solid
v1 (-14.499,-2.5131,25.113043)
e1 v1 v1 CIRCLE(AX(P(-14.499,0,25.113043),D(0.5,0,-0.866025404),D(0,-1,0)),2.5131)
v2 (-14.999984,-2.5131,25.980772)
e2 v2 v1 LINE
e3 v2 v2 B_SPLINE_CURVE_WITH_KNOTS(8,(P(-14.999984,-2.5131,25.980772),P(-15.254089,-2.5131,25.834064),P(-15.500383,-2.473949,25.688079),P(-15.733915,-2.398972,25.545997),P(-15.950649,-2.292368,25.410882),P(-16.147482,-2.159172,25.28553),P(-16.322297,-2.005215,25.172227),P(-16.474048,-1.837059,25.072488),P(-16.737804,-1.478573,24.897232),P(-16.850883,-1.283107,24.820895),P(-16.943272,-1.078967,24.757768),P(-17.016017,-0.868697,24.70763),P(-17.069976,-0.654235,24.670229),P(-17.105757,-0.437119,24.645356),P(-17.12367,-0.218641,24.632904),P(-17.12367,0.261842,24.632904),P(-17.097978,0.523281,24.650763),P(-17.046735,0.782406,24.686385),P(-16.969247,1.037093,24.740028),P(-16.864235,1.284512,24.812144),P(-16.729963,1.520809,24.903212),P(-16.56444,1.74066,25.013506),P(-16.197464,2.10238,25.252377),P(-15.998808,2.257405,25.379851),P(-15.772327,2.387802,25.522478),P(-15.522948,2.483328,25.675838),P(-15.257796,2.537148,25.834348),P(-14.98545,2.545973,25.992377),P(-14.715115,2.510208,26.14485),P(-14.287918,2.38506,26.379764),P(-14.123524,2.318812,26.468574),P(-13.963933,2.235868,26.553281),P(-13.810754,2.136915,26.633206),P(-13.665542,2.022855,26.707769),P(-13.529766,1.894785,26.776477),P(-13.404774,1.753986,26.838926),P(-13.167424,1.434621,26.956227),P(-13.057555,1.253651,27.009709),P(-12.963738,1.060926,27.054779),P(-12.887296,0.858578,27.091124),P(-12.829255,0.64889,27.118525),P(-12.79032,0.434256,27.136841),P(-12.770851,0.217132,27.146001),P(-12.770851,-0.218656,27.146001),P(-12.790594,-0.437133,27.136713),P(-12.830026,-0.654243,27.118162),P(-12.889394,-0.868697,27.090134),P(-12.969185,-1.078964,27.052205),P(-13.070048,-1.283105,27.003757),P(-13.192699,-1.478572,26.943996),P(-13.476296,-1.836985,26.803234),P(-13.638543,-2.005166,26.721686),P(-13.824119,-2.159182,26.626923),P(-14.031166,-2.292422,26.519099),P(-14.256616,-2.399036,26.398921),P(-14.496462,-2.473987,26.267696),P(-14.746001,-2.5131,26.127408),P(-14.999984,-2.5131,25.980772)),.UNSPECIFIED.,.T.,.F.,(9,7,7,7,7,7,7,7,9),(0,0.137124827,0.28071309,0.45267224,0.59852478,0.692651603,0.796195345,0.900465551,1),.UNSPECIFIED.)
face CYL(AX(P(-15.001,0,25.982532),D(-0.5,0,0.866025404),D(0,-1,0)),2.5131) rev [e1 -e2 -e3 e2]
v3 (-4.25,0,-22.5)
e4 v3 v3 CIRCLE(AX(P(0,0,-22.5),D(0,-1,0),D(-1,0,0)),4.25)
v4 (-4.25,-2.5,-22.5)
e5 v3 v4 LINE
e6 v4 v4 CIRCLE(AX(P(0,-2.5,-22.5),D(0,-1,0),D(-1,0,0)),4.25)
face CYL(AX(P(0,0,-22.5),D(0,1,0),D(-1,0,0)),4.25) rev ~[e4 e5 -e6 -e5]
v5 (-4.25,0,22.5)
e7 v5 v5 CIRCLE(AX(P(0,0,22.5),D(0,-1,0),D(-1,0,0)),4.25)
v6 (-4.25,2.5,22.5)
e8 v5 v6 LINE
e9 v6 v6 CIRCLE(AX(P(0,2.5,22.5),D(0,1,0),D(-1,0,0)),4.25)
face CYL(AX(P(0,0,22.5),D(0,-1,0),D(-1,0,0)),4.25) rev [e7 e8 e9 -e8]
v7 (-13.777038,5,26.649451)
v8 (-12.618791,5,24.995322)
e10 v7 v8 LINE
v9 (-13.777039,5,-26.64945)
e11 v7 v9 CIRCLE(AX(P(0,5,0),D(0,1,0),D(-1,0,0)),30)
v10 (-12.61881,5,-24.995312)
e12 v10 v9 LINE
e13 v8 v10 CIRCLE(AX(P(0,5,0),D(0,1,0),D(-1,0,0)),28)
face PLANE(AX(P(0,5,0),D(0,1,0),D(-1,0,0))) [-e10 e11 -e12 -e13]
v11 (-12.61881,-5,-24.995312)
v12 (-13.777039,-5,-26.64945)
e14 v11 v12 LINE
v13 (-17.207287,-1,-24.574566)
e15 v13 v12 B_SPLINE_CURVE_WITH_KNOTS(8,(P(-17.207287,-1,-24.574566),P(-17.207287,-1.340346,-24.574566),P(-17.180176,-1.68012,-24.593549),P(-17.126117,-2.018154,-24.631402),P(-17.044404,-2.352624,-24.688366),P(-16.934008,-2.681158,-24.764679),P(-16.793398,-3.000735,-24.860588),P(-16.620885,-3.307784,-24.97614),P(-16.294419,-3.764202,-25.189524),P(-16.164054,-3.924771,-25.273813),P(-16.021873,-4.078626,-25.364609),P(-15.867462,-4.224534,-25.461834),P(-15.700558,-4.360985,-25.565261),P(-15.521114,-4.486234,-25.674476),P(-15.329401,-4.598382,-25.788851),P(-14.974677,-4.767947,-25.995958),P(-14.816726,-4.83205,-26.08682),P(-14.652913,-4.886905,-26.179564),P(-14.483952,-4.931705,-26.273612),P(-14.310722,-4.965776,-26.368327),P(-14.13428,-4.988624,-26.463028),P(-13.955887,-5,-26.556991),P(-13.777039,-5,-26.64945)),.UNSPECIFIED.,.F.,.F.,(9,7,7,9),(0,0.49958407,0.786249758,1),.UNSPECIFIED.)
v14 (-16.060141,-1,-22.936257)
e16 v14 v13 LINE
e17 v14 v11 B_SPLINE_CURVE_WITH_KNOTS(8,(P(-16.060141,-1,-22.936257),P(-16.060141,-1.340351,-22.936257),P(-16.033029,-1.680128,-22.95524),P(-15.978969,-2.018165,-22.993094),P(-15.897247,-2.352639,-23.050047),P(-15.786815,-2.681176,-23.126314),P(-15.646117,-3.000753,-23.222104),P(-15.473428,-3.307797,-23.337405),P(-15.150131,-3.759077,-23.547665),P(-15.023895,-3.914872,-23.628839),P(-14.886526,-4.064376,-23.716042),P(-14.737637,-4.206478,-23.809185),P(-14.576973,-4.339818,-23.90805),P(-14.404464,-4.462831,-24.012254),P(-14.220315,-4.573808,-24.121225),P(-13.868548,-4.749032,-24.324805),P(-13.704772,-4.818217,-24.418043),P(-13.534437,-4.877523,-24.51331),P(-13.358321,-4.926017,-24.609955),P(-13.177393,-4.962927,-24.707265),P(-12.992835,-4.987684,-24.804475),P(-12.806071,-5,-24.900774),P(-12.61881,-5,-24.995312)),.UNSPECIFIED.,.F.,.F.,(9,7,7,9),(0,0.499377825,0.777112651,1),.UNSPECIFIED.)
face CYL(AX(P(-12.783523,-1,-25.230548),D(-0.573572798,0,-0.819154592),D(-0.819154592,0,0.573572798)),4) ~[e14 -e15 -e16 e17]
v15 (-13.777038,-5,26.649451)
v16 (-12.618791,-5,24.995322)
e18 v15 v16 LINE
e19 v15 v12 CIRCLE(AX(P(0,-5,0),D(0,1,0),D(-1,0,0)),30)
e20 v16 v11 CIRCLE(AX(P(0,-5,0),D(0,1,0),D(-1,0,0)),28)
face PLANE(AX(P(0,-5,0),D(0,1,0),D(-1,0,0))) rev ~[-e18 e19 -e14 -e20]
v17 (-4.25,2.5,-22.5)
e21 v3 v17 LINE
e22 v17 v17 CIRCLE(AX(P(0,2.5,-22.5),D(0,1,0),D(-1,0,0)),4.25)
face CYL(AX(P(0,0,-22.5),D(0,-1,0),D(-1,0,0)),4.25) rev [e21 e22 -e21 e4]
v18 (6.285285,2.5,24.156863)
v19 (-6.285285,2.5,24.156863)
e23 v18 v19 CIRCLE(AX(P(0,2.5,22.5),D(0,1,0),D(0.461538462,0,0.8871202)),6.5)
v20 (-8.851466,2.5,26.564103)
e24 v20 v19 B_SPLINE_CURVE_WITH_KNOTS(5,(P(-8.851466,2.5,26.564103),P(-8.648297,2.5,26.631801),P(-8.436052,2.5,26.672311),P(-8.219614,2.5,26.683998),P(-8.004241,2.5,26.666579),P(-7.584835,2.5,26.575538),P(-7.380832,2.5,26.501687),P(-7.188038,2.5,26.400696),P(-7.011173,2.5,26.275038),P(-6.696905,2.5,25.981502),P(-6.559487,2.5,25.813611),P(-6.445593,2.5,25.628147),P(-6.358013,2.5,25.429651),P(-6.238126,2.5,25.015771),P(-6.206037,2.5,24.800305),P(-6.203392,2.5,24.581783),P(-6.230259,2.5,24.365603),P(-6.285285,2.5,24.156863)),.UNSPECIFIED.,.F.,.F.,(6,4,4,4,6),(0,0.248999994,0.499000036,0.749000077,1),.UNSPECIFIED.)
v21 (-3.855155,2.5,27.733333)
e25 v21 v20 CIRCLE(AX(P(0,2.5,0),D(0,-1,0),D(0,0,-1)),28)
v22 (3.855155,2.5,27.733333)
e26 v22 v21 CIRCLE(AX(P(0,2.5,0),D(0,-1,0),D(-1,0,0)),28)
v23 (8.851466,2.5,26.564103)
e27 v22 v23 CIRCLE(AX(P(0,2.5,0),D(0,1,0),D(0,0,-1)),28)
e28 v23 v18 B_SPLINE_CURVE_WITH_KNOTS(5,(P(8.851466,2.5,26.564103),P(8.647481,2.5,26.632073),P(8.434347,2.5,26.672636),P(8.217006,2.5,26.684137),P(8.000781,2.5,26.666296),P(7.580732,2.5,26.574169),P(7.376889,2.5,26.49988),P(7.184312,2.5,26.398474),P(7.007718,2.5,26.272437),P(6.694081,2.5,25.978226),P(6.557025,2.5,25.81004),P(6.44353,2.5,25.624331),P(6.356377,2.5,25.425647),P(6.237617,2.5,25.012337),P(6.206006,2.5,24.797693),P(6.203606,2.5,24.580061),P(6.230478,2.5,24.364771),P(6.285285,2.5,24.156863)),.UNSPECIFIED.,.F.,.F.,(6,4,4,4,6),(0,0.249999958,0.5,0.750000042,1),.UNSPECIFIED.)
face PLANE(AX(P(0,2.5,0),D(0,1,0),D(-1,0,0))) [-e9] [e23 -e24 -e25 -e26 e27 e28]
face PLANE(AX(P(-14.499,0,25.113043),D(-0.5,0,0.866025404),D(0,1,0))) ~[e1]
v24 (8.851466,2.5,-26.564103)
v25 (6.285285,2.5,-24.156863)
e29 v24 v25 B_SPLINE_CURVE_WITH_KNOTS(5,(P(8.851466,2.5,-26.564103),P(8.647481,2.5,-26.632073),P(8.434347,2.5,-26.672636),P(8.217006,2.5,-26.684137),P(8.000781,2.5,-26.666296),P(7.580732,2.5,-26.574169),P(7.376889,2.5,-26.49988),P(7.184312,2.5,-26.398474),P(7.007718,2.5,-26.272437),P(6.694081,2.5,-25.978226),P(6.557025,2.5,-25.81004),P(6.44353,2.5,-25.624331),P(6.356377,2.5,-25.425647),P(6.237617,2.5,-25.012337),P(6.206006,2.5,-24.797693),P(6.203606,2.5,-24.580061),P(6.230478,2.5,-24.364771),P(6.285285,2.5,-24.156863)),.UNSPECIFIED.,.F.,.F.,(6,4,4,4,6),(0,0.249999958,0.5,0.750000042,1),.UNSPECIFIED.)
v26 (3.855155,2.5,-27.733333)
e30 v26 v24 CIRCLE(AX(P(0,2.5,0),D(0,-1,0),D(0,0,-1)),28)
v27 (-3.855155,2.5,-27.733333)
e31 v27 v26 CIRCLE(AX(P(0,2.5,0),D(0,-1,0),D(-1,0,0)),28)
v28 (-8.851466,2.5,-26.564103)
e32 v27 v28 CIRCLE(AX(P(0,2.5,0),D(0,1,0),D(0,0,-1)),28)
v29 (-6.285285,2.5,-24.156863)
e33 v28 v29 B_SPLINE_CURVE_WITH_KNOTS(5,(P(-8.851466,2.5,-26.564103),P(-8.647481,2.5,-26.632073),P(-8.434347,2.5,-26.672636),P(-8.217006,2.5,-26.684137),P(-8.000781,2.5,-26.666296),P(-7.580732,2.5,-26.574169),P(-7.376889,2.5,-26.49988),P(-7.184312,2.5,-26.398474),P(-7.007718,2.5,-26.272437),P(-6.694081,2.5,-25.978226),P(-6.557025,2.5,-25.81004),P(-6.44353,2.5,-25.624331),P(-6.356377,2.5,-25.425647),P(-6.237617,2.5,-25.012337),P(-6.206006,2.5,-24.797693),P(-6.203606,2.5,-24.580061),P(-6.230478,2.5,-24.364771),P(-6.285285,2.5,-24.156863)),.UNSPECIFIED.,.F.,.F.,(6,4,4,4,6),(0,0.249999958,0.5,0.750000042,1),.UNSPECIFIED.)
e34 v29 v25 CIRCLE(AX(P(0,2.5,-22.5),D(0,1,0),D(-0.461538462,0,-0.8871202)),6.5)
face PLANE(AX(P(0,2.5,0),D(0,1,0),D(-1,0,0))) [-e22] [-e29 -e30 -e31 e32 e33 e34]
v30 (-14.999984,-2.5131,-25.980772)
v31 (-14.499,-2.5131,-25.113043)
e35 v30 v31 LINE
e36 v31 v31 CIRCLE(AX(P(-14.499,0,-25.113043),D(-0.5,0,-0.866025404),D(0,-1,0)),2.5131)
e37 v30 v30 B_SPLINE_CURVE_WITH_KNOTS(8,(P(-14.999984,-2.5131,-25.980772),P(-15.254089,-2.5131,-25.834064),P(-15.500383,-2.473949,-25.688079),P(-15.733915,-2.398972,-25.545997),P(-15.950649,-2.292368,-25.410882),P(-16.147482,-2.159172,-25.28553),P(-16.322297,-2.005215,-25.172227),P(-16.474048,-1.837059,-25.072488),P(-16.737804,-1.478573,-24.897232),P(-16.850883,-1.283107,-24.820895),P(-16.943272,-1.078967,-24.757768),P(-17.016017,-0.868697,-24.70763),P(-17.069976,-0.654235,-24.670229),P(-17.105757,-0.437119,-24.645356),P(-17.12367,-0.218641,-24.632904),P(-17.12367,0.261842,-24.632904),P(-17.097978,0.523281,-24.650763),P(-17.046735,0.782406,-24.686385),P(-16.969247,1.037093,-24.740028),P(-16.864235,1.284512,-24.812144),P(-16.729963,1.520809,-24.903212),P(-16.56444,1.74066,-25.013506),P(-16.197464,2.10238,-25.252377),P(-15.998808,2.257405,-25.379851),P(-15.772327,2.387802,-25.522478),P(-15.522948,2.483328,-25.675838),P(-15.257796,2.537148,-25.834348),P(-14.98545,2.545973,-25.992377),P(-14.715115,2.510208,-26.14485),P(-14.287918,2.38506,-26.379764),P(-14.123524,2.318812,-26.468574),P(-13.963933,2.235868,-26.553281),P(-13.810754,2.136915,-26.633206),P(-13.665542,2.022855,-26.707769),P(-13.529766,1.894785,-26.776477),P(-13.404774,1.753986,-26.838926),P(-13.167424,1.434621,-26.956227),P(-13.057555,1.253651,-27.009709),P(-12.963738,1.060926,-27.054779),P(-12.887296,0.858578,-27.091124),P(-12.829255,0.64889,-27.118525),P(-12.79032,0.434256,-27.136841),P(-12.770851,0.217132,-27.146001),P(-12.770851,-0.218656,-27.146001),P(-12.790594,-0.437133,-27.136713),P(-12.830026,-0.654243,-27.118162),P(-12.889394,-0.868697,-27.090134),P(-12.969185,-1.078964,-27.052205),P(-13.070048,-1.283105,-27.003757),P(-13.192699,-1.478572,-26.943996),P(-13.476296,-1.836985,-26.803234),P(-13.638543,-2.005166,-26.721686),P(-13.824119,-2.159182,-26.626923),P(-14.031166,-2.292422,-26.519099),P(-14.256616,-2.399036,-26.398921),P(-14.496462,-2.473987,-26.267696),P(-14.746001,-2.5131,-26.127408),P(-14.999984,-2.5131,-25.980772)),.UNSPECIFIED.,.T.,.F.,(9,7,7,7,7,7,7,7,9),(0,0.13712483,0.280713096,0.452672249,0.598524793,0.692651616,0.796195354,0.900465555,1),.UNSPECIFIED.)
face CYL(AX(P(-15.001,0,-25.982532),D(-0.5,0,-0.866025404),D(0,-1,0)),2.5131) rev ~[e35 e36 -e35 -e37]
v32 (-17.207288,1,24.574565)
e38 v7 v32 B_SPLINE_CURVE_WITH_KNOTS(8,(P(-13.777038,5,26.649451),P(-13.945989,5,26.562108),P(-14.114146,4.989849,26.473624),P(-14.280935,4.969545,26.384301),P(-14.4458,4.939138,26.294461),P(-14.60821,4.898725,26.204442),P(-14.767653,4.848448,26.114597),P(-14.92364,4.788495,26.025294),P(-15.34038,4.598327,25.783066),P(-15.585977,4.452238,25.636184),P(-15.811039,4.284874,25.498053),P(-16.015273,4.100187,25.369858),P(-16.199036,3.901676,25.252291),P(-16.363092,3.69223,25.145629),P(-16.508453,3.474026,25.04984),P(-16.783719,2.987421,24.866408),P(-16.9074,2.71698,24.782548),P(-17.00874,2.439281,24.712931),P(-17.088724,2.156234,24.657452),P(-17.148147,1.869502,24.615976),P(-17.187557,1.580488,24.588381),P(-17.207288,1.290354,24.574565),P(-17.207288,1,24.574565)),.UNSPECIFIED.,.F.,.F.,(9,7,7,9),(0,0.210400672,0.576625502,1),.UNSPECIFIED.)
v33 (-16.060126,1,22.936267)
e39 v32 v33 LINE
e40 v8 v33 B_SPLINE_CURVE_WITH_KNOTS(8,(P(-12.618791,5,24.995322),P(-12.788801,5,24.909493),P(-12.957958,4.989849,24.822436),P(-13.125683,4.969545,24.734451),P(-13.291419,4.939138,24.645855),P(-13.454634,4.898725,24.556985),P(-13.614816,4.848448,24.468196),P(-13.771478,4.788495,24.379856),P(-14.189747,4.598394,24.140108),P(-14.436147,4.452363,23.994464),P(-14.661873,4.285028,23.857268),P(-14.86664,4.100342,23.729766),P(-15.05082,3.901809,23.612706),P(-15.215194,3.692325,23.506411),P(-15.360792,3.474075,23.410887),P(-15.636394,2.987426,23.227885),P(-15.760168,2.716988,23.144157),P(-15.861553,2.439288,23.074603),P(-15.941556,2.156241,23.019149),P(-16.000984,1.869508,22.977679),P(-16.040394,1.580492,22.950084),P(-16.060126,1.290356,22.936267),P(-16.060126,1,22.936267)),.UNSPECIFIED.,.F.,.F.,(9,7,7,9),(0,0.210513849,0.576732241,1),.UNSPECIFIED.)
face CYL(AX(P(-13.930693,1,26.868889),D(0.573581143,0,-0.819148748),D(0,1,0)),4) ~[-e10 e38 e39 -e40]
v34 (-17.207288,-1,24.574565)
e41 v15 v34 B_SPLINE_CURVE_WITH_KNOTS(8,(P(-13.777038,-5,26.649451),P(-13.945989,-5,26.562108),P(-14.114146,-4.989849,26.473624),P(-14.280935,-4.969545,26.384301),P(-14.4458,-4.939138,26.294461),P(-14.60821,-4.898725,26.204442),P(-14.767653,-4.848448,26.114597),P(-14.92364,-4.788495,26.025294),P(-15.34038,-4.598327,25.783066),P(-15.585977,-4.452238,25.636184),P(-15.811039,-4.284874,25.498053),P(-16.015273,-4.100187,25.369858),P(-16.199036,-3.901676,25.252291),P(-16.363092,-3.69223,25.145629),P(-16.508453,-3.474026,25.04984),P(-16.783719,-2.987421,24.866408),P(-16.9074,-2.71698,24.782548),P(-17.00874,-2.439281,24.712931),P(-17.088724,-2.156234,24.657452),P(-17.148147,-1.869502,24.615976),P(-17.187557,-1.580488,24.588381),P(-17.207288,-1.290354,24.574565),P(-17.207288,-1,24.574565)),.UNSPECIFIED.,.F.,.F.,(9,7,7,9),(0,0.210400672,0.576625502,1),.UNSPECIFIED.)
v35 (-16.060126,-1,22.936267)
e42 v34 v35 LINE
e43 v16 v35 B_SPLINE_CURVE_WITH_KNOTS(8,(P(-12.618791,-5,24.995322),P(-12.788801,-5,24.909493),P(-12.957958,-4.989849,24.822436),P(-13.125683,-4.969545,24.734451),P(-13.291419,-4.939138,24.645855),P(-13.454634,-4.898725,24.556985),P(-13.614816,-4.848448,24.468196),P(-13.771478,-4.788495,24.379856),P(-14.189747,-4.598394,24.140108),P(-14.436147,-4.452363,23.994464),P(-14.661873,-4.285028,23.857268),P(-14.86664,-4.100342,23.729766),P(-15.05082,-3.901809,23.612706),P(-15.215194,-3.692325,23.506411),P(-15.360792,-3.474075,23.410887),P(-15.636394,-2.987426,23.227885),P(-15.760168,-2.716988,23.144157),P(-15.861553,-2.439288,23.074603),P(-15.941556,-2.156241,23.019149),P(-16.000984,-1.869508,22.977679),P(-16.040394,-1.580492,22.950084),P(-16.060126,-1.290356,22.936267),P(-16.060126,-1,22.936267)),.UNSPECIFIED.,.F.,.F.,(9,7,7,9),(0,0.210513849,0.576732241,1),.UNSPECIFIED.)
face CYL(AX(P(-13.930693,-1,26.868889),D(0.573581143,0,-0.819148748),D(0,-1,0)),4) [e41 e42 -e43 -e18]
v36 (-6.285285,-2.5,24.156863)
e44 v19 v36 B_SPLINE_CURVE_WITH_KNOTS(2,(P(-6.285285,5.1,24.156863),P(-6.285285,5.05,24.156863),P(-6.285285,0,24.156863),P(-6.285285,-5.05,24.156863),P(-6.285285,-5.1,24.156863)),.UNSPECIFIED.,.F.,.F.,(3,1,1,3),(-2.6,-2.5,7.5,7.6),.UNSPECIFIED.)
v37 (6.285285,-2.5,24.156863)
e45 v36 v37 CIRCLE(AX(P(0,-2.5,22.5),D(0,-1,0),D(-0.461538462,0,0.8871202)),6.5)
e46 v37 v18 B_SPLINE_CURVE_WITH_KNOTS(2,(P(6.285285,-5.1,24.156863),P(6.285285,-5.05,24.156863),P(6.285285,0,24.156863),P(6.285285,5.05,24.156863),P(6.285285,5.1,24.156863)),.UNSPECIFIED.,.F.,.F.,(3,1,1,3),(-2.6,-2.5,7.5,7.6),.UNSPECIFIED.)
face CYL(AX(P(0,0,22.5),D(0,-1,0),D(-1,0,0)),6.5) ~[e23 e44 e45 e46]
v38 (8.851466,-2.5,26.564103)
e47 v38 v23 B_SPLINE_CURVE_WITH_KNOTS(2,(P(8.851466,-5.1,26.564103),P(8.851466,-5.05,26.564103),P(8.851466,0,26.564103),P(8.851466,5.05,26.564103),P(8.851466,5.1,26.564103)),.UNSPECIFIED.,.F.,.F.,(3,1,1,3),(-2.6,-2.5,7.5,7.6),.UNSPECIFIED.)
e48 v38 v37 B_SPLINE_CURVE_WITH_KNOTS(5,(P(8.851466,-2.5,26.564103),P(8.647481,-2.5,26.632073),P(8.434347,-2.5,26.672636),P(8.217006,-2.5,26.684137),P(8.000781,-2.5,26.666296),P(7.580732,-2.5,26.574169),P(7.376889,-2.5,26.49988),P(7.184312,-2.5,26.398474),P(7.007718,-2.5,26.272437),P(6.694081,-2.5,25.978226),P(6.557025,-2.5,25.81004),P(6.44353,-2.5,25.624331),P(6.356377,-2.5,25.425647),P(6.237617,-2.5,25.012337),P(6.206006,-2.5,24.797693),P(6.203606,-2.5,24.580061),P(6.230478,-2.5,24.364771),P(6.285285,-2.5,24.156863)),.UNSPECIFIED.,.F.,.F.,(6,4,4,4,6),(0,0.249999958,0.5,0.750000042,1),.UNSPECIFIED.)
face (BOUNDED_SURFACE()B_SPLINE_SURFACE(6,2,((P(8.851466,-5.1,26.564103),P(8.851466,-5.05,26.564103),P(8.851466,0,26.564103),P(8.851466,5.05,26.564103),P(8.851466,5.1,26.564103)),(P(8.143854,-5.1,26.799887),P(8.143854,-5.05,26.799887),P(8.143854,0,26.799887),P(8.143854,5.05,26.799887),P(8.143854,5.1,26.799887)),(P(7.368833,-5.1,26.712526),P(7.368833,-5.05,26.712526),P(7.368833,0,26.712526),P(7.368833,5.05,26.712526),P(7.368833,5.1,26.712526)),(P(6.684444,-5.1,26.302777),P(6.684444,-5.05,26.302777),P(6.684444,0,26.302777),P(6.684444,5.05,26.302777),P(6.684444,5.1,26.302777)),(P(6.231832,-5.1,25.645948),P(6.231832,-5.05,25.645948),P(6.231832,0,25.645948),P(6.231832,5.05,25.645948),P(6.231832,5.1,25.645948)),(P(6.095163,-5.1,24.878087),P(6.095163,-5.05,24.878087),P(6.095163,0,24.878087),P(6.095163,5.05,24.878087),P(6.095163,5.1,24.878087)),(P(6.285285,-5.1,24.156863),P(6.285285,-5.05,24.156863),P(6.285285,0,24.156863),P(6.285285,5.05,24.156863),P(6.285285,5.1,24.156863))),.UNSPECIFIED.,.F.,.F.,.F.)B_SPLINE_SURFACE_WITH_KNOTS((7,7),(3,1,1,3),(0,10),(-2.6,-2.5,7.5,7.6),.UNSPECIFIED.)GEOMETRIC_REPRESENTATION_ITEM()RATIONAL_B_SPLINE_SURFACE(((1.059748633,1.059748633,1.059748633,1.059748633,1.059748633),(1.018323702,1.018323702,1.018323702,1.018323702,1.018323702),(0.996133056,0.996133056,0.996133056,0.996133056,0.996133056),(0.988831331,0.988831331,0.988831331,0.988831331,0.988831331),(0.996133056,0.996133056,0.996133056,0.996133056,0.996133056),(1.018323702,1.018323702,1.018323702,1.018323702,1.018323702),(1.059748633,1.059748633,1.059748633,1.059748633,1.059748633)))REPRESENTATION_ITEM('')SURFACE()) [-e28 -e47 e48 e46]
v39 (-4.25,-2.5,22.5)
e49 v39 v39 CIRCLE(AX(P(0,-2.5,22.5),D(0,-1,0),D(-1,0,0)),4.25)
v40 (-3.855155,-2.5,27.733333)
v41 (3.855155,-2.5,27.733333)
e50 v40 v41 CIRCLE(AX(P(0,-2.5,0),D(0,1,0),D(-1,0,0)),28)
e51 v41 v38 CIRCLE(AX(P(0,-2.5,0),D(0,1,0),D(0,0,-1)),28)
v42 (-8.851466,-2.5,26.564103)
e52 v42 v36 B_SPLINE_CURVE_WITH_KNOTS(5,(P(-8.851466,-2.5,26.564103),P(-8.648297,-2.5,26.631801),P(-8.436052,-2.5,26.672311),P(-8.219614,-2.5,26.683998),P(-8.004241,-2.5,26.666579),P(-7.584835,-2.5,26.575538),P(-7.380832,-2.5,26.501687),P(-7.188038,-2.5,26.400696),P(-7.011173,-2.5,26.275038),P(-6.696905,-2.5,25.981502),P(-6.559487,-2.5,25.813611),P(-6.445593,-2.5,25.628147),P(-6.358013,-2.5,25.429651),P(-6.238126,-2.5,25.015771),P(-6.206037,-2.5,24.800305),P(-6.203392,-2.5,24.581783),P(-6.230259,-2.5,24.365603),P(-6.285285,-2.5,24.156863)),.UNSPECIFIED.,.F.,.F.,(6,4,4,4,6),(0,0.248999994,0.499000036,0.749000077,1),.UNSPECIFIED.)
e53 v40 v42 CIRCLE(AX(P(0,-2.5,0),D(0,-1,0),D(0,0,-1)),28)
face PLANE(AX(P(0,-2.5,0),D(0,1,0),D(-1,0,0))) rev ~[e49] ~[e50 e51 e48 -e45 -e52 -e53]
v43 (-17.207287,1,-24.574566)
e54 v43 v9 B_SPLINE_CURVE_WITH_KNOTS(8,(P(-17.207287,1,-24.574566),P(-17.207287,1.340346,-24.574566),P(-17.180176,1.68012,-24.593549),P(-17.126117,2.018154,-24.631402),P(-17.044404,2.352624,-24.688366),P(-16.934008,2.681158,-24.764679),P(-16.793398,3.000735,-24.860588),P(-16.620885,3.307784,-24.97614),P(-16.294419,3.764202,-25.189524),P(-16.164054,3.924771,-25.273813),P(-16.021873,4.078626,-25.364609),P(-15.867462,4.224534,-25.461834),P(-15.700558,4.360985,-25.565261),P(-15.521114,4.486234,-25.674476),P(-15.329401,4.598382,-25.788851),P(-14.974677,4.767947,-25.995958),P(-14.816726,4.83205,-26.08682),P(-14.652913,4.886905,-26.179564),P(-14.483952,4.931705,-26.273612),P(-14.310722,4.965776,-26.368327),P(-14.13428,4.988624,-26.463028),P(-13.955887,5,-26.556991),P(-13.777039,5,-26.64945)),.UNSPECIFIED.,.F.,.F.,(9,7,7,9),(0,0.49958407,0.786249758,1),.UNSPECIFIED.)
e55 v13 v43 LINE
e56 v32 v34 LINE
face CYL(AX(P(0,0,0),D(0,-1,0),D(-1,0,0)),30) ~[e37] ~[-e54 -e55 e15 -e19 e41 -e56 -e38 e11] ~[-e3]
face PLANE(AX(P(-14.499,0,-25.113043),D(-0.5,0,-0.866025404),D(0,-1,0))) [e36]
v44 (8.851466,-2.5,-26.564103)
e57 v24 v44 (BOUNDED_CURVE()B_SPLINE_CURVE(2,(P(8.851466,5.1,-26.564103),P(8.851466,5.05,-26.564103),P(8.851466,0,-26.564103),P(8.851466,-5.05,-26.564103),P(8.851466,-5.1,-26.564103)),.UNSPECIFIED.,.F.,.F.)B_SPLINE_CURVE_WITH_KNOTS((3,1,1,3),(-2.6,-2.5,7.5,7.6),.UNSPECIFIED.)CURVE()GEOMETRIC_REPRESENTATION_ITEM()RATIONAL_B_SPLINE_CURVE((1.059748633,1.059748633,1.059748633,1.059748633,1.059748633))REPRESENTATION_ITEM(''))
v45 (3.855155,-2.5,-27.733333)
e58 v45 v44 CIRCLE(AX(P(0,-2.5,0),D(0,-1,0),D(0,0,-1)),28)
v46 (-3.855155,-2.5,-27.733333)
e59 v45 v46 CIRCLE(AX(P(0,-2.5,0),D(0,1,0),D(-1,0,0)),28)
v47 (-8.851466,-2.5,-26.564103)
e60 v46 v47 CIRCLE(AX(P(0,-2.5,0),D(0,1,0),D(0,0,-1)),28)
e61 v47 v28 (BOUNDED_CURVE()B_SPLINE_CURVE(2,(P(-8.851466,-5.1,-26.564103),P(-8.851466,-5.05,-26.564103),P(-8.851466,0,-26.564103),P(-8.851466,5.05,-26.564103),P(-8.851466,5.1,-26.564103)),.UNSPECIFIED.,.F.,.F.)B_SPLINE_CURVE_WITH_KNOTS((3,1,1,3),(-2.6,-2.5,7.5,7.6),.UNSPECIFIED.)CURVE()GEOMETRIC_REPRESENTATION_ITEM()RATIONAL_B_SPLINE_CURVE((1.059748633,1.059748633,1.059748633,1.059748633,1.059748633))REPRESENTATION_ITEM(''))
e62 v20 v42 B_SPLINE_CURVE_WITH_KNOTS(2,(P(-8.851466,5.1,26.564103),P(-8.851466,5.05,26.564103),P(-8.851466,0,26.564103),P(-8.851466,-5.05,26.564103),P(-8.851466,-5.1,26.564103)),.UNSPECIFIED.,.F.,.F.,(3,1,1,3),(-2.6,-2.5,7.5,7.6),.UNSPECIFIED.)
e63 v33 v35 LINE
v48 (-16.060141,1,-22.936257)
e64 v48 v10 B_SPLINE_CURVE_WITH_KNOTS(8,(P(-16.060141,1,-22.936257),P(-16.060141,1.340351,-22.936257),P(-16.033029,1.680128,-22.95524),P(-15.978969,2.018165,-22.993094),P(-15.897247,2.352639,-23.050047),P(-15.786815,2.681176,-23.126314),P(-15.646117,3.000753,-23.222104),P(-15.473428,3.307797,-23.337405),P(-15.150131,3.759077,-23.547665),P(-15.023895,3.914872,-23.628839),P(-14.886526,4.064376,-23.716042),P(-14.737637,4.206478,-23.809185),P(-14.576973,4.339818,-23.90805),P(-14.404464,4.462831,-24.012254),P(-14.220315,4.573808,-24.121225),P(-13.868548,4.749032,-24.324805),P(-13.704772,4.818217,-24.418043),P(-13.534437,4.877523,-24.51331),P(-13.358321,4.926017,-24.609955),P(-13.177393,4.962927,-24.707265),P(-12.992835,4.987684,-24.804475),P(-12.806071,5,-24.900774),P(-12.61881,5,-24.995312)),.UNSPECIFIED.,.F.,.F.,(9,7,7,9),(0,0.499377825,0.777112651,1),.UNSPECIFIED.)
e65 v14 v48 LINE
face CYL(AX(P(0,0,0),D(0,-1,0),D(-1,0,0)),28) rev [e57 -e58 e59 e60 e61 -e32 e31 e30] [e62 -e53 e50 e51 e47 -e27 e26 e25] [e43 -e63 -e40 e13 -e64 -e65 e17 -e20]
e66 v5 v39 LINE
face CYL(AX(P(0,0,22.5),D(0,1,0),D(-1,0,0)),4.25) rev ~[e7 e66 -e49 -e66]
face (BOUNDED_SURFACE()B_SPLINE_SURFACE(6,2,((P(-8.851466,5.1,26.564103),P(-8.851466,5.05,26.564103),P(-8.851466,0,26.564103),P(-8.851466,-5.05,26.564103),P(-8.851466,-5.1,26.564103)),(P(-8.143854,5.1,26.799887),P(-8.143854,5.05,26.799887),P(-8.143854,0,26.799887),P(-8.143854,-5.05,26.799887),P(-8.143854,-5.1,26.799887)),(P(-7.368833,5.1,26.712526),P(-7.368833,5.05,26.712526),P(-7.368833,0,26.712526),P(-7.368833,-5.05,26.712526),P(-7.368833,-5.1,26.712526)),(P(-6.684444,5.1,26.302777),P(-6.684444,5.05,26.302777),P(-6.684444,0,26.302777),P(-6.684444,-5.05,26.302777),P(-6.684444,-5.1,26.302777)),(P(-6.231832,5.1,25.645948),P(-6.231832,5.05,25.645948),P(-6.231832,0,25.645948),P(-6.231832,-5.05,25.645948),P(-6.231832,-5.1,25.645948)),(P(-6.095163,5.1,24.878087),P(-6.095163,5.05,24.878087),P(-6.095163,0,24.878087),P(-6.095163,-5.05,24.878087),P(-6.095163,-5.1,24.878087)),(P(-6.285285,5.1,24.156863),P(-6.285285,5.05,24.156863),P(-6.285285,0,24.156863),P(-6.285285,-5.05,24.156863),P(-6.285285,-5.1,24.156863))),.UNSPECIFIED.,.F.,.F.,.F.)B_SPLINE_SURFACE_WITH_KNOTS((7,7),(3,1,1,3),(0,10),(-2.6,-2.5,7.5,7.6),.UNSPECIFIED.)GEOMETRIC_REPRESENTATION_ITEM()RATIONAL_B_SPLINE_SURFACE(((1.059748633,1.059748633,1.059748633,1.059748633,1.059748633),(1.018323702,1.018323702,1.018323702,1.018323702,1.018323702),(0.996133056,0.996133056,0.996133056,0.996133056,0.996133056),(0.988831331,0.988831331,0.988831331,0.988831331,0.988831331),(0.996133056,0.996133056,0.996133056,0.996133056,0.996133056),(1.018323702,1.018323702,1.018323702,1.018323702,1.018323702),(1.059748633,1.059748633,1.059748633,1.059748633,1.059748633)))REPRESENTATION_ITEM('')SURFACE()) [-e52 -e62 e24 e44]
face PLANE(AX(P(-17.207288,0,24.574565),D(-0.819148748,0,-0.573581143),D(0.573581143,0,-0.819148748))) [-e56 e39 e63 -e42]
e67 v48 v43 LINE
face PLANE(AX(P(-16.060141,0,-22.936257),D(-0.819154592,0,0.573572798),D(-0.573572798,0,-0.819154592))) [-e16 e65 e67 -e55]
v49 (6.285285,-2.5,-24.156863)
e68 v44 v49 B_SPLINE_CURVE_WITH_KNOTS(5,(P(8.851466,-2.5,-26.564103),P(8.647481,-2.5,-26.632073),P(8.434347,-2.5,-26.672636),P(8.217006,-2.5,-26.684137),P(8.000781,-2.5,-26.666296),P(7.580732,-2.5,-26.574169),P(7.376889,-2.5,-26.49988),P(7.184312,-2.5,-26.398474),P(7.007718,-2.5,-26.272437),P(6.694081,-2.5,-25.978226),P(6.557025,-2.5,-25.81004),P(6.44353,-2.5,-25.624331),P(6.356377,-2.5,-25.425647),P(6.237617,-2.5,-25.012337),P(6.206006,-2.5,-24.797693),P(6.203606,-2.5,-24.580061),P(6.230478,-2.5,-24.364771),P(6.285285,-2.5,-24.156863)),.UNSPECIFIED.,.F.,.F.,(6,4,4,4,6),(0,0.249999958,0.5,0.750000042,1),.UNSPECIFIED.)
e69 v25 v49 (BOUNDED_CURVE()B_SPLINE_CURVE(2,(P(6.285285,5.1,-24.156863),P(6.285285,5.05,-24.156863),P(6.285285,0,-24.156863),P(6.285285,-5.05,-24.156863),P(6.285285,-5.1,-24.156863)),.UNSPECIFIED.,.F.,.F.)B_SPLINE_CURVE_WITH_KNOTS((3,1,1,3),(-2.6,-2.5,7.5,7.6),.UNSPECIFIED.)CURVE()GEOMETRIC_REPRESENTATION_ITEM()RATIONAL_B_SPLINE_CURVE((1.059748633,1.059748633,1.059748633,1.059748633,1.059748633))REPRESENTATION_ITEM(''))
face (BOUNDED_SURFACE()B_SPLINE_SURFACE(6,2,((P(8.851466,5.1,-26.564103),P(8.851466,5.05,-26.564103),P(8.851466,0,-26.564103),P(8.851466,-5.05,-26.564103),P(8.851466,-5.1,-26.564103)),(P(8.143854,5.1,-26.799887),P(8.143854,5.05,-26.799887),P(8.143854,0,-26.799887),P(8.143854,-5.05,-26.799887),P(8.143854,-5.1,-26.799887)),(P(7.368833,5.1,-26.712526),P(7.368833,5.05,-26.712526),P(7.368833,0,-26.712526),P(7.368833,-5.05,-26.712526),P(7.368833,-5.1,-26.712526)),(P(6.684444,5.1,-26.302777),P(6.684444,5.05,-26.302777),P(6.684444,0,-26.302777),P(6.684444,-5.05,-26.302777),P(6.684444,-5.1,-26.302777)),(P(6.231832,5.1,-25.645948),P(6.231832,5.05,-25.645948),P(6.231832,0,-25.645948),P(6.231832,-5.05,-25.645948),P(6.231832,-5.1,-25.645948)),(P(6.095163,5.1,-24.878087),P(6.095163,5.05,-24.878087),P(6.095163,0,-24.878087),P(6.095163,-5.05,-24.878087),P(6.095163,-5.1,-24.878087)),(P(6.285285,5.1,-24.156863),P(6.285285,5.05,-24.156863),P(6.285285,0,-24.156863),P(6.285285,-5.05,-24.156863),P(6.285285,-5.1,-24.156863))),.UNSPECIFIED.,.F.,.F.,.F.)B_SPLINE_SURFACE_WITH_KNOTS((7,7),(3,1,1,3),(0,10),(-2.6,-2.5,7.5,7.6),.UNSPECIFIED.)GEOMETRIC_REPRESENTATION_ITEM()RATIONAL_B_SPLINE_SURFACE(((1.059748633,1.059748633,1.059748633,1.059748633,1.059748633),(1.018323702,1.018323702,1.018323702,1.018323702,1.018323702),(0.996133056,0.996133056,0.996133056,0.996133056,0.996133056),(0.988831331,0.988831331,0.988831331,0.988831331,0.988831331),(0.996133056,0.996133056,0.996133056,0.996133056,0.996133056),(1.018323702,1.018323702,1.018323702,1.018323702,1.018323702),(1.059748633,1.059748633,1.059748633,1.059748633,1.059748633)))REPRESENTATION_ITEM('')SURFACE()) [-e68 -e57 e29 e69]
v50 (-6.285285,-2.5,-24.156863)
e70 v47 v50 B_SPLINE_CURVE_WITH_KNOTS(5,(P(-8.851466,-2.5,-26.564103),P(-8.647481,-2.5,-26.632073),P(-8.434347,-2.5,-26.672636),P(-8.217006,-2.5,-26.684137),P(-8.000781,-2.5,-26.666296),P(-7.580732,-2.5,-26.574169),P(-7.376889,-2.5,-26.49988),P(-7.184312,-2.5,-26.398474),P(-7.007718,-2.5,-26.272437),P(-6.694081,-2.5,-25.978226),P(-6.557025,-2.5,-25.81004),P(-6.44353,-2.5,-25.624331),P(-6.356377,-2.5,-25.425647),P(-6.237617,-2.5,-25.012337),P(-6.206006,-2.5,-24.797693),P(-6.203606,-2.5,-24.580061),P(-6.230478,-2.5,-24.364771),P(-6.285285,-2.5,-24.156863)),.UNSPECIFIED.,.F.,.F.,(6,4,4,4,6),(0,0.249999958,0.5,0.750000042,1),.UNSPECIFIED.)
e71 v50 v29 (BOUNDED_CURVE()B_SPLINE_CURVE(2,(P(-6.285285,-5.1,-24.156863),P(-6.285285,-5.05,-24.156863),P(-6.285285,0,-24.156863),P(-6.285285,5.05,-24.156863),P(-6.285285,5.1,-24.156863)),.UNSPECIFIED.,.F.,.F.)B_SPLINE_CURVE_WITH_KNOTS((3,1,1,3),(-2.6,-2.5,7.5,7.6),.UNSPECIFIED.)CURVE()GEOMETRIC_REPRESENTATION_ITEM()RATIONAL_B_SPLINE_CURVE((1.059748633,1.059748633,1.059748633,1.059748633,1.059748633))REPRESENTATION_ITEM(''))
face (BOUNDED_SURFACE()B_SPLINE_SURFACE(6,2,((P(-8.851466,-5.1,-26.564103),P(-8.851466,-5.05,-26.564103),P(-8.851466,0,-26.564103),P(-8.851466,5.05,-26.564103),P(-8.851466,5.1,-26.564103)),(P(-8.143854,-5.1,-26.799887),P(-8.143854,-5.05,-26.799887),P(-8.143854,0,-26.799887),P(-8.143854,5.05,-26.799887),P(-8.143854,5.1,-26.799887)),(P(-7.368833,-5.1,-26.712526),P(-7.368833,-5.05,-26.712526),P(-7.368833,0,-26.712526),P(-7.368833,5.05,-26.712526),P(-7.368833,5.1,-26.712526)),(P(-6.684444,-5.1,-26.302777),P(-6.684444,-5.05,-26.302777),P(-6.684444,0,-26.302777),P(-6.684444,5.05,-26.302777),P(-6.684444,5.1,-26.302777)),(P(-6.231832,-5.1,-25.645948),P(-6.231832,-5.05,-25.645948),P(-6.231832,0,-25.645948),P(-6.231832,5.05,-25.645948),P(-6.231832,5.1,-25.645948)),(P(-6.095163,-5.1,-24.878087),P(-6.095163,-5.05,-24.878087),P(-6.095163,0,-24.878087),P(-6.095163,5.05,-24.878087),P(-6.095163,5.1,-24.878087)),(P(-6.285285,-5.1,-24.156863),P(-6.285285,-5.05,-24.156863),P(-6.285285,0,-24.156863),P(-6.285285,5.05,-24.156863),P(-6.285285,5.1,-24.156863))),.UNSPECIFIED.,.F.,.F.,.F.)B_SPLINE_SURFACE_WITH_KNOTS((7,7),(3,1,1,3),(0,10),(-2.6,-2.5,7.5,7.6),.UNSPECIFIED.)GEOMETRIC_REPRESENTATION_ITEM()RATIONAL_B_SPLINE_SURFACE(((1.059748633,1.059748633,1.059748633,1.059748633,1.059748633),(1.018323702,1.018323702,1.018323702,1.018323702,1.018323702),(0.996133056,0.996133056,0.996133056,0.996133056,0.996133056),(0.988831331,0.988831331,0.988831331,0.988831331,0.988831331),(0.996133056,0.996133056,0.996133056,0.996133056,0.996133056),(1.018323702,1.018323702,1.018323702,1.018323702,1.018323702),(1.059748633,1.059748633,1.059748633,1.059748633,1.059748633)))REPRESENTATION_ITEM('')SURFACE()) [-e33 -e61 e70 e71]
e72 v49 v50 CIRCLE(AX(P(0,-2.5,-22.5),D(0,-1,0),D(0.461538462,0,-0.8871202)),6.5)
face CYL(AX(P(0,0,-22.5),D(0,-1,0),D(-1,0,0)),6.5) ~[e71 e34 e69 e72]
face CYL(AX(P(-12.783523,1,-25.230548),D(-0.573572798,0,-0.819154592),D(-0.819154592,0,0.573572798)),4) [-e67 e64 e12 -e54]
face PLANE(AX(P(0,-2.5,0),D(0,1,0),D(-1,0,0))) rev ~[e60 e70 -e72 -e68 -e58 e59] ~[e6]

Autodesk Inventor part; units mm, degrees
ref_plane "YZ Plane" through (0, 0, 0) normal (1, 0, 0) x (0, 1, 0)
ref_plane "XZ Plane" through (0, 0, 0) normal (0, 1, 0) x (-1, 0, 0)
ref_plane "XY Plane" through (0, 0, 0) normal (0, 0, 1) x (1, 0, 0)
sketch "Skizze1" plane through (0, 0, 0) normal (0, 1, 0) x (-1, 0, 0)
  circle A0 centre (0, 0) radius 28
  circle A1 centre (0, 0) radius 30
  dimension "d0" = 56
  dimension "d1" = 60
extrude "Extrusion1" add sketch "Skizze1" along normal mid plane 10
sketch "Skizze2" plane through (0, 0, 0) normal (0, 1, 0) x (-1, 0, 0)
  circle A0 centre (0, 22.5) radius 4.25
  circle A1 centre (0, -22.5) radius 4.25
  line L0 (44.9262, 0) -> (-43.1306, 0) construction
  circle A2 centre (0, -22.5) radius 6.5
  circle A3 centre (0, 22.5) radius 6.5
  line L1 (0, 38.6377) -> (0, -60.2779) construction
  line L2 (3, 29.5) -> (-3, 29.5)
  line L3 (-3, 29.5) -> (-3, -29.5)
  line L4 (-3, -29.5) -> (3, -29.5)
  line L5 (3, -29.5) -> (3, 29.5)
  point P0 (0, 0)
  point P1 (-3, 28.2663)
  point P2 (3, 28.2663)
  point P3 (-3, -28.2663)
  point P4 (3, -28.2663)
  dimension "d4" = 45
  dimension "d5" = 8.5
  dimension "d6" = 8.5
  dimension "d7" = 13
  dimension "d8" = 13
  dimension "d9" = 6
  dimension "d21" = 59
extrude "Extrusion2" add sketch "Skizze2" along normal mid plane 5 contours A0 L5 A3 | A0 L3 A3 L5 | L5 A3 L3 A0 | A0 L3 A3 | A3 L3 L2 L5 | L5 A1 L3 A2 | A2 L5 A1 | L3 A1 A2 | L3 A1 L5 A2 | A2 L5 L4 L3
sketch "Skizze3" plane through (0, 0, 0) normal (0, 1, 0) x (-1, 0, 0)
  line L0 (-37.328, 53.3099) -> (47.5678, -67.9338) construction
  line L1 (48.5469, 69.3321) -> (-29.5635, -42.2211) construction
  line L2 (0, 56.0595) -> (0, -79.5026) construction
  circle A0 centre (0, 0) radius 30
  circle A1 centre (0, 0) radius 28
  line L3 (19.8236, 28.311) -> (13.732, 19.6114)
  line L4 (14.4871, -20.6897) -> (22.3283, -31.8882)
  point P0 (16.0601, -22.9363)
  point P1 (17.2073, -24.5746)
  point P2 (17.2073, 24.5746)
  point P3 (16.0601, 22.9363)
  dimension "d12" = 110
  dimension "d13" = 35
  dimension "d19" = 56
  dimension "d20" = 60
extrude "Extrusion3" cut sketch "Skizze3" along normal mid plane 10 contours A0 L4 A1 L3 picked at (29.0468, 2.3769)
sketch "Skizze4" plane through (0, 0, 0) normal (0, 1, 0) x (-1, 0, 0)
  line L0 (-8.0451, 13.9345) -> (38.1422, -66.0642) construction
  line L1 (17.2073, -24.5746) -> (16.0601, -22.9363) construction
  line L2 (0, 9.2259) -> (0, -51.7672) construction
  arc A0 (17.2073, 24.5746) -> (17.2073, -24.5746) centre (0, 0) ccw projected
  point P0 (16.6337, -23.7554)
  point P1 (15, -25.9808)
  point P2 (15, -25.9808)
  point P3 (19.2393, -22.9285)
  dimension "d16" = 30
ref_plane "Arbeitsebene3" through (-15.5, 0, -26.8468) normal (-0.4226, 0, -0.9063) x (0, -1, 0)
sketch "Skizze5" plane through (-15.5, 0, -26.8468) normal (-0.4226, 0, -0.9063) x (0, -1, 0)
  point P0 (0, -2.7018)
ref_plane "Arbeitsebene4" through (-15, 0, -25.9808) normal (-0.5, 0, -0.866) x (0, -1, 0)
sketch "Skizze6" plane through (-15, 0, -25.9808) normal (-0.5, 0, -0.866) x (0, -1, 0)
  circle A0 centre (0, 0) radius 2.5131
  point P0 (0, 0)
extrude "Extrusion5" cut sketch "Skizze6" against normal blind 1
mirror "Spiegeln2" about plane through (0, 0, 0) normal (0, 0, 1) of "Extrusion5"
fillet "Rundung1" radius 4 4 edges at (-16.6337, -5, -23.7554) (-16.6337, 5, -23.7554) (-16.6337, 5, 23.7554) (-16.6337, -5, 23.7554)
fillet "Rundung2" radius 2 4 edges at (3.8552, 0, -27.7333) (-3.8552, 0, -27.7333) (-3.8552, 0, 27.7333) (3.8552, 0, 27.7333)
ref_plane "Arbeitsebene5" through (0, 0, 0) normal (0, 0, 1) x (1, 0, 0)
properties part number "_3D-Druck"
